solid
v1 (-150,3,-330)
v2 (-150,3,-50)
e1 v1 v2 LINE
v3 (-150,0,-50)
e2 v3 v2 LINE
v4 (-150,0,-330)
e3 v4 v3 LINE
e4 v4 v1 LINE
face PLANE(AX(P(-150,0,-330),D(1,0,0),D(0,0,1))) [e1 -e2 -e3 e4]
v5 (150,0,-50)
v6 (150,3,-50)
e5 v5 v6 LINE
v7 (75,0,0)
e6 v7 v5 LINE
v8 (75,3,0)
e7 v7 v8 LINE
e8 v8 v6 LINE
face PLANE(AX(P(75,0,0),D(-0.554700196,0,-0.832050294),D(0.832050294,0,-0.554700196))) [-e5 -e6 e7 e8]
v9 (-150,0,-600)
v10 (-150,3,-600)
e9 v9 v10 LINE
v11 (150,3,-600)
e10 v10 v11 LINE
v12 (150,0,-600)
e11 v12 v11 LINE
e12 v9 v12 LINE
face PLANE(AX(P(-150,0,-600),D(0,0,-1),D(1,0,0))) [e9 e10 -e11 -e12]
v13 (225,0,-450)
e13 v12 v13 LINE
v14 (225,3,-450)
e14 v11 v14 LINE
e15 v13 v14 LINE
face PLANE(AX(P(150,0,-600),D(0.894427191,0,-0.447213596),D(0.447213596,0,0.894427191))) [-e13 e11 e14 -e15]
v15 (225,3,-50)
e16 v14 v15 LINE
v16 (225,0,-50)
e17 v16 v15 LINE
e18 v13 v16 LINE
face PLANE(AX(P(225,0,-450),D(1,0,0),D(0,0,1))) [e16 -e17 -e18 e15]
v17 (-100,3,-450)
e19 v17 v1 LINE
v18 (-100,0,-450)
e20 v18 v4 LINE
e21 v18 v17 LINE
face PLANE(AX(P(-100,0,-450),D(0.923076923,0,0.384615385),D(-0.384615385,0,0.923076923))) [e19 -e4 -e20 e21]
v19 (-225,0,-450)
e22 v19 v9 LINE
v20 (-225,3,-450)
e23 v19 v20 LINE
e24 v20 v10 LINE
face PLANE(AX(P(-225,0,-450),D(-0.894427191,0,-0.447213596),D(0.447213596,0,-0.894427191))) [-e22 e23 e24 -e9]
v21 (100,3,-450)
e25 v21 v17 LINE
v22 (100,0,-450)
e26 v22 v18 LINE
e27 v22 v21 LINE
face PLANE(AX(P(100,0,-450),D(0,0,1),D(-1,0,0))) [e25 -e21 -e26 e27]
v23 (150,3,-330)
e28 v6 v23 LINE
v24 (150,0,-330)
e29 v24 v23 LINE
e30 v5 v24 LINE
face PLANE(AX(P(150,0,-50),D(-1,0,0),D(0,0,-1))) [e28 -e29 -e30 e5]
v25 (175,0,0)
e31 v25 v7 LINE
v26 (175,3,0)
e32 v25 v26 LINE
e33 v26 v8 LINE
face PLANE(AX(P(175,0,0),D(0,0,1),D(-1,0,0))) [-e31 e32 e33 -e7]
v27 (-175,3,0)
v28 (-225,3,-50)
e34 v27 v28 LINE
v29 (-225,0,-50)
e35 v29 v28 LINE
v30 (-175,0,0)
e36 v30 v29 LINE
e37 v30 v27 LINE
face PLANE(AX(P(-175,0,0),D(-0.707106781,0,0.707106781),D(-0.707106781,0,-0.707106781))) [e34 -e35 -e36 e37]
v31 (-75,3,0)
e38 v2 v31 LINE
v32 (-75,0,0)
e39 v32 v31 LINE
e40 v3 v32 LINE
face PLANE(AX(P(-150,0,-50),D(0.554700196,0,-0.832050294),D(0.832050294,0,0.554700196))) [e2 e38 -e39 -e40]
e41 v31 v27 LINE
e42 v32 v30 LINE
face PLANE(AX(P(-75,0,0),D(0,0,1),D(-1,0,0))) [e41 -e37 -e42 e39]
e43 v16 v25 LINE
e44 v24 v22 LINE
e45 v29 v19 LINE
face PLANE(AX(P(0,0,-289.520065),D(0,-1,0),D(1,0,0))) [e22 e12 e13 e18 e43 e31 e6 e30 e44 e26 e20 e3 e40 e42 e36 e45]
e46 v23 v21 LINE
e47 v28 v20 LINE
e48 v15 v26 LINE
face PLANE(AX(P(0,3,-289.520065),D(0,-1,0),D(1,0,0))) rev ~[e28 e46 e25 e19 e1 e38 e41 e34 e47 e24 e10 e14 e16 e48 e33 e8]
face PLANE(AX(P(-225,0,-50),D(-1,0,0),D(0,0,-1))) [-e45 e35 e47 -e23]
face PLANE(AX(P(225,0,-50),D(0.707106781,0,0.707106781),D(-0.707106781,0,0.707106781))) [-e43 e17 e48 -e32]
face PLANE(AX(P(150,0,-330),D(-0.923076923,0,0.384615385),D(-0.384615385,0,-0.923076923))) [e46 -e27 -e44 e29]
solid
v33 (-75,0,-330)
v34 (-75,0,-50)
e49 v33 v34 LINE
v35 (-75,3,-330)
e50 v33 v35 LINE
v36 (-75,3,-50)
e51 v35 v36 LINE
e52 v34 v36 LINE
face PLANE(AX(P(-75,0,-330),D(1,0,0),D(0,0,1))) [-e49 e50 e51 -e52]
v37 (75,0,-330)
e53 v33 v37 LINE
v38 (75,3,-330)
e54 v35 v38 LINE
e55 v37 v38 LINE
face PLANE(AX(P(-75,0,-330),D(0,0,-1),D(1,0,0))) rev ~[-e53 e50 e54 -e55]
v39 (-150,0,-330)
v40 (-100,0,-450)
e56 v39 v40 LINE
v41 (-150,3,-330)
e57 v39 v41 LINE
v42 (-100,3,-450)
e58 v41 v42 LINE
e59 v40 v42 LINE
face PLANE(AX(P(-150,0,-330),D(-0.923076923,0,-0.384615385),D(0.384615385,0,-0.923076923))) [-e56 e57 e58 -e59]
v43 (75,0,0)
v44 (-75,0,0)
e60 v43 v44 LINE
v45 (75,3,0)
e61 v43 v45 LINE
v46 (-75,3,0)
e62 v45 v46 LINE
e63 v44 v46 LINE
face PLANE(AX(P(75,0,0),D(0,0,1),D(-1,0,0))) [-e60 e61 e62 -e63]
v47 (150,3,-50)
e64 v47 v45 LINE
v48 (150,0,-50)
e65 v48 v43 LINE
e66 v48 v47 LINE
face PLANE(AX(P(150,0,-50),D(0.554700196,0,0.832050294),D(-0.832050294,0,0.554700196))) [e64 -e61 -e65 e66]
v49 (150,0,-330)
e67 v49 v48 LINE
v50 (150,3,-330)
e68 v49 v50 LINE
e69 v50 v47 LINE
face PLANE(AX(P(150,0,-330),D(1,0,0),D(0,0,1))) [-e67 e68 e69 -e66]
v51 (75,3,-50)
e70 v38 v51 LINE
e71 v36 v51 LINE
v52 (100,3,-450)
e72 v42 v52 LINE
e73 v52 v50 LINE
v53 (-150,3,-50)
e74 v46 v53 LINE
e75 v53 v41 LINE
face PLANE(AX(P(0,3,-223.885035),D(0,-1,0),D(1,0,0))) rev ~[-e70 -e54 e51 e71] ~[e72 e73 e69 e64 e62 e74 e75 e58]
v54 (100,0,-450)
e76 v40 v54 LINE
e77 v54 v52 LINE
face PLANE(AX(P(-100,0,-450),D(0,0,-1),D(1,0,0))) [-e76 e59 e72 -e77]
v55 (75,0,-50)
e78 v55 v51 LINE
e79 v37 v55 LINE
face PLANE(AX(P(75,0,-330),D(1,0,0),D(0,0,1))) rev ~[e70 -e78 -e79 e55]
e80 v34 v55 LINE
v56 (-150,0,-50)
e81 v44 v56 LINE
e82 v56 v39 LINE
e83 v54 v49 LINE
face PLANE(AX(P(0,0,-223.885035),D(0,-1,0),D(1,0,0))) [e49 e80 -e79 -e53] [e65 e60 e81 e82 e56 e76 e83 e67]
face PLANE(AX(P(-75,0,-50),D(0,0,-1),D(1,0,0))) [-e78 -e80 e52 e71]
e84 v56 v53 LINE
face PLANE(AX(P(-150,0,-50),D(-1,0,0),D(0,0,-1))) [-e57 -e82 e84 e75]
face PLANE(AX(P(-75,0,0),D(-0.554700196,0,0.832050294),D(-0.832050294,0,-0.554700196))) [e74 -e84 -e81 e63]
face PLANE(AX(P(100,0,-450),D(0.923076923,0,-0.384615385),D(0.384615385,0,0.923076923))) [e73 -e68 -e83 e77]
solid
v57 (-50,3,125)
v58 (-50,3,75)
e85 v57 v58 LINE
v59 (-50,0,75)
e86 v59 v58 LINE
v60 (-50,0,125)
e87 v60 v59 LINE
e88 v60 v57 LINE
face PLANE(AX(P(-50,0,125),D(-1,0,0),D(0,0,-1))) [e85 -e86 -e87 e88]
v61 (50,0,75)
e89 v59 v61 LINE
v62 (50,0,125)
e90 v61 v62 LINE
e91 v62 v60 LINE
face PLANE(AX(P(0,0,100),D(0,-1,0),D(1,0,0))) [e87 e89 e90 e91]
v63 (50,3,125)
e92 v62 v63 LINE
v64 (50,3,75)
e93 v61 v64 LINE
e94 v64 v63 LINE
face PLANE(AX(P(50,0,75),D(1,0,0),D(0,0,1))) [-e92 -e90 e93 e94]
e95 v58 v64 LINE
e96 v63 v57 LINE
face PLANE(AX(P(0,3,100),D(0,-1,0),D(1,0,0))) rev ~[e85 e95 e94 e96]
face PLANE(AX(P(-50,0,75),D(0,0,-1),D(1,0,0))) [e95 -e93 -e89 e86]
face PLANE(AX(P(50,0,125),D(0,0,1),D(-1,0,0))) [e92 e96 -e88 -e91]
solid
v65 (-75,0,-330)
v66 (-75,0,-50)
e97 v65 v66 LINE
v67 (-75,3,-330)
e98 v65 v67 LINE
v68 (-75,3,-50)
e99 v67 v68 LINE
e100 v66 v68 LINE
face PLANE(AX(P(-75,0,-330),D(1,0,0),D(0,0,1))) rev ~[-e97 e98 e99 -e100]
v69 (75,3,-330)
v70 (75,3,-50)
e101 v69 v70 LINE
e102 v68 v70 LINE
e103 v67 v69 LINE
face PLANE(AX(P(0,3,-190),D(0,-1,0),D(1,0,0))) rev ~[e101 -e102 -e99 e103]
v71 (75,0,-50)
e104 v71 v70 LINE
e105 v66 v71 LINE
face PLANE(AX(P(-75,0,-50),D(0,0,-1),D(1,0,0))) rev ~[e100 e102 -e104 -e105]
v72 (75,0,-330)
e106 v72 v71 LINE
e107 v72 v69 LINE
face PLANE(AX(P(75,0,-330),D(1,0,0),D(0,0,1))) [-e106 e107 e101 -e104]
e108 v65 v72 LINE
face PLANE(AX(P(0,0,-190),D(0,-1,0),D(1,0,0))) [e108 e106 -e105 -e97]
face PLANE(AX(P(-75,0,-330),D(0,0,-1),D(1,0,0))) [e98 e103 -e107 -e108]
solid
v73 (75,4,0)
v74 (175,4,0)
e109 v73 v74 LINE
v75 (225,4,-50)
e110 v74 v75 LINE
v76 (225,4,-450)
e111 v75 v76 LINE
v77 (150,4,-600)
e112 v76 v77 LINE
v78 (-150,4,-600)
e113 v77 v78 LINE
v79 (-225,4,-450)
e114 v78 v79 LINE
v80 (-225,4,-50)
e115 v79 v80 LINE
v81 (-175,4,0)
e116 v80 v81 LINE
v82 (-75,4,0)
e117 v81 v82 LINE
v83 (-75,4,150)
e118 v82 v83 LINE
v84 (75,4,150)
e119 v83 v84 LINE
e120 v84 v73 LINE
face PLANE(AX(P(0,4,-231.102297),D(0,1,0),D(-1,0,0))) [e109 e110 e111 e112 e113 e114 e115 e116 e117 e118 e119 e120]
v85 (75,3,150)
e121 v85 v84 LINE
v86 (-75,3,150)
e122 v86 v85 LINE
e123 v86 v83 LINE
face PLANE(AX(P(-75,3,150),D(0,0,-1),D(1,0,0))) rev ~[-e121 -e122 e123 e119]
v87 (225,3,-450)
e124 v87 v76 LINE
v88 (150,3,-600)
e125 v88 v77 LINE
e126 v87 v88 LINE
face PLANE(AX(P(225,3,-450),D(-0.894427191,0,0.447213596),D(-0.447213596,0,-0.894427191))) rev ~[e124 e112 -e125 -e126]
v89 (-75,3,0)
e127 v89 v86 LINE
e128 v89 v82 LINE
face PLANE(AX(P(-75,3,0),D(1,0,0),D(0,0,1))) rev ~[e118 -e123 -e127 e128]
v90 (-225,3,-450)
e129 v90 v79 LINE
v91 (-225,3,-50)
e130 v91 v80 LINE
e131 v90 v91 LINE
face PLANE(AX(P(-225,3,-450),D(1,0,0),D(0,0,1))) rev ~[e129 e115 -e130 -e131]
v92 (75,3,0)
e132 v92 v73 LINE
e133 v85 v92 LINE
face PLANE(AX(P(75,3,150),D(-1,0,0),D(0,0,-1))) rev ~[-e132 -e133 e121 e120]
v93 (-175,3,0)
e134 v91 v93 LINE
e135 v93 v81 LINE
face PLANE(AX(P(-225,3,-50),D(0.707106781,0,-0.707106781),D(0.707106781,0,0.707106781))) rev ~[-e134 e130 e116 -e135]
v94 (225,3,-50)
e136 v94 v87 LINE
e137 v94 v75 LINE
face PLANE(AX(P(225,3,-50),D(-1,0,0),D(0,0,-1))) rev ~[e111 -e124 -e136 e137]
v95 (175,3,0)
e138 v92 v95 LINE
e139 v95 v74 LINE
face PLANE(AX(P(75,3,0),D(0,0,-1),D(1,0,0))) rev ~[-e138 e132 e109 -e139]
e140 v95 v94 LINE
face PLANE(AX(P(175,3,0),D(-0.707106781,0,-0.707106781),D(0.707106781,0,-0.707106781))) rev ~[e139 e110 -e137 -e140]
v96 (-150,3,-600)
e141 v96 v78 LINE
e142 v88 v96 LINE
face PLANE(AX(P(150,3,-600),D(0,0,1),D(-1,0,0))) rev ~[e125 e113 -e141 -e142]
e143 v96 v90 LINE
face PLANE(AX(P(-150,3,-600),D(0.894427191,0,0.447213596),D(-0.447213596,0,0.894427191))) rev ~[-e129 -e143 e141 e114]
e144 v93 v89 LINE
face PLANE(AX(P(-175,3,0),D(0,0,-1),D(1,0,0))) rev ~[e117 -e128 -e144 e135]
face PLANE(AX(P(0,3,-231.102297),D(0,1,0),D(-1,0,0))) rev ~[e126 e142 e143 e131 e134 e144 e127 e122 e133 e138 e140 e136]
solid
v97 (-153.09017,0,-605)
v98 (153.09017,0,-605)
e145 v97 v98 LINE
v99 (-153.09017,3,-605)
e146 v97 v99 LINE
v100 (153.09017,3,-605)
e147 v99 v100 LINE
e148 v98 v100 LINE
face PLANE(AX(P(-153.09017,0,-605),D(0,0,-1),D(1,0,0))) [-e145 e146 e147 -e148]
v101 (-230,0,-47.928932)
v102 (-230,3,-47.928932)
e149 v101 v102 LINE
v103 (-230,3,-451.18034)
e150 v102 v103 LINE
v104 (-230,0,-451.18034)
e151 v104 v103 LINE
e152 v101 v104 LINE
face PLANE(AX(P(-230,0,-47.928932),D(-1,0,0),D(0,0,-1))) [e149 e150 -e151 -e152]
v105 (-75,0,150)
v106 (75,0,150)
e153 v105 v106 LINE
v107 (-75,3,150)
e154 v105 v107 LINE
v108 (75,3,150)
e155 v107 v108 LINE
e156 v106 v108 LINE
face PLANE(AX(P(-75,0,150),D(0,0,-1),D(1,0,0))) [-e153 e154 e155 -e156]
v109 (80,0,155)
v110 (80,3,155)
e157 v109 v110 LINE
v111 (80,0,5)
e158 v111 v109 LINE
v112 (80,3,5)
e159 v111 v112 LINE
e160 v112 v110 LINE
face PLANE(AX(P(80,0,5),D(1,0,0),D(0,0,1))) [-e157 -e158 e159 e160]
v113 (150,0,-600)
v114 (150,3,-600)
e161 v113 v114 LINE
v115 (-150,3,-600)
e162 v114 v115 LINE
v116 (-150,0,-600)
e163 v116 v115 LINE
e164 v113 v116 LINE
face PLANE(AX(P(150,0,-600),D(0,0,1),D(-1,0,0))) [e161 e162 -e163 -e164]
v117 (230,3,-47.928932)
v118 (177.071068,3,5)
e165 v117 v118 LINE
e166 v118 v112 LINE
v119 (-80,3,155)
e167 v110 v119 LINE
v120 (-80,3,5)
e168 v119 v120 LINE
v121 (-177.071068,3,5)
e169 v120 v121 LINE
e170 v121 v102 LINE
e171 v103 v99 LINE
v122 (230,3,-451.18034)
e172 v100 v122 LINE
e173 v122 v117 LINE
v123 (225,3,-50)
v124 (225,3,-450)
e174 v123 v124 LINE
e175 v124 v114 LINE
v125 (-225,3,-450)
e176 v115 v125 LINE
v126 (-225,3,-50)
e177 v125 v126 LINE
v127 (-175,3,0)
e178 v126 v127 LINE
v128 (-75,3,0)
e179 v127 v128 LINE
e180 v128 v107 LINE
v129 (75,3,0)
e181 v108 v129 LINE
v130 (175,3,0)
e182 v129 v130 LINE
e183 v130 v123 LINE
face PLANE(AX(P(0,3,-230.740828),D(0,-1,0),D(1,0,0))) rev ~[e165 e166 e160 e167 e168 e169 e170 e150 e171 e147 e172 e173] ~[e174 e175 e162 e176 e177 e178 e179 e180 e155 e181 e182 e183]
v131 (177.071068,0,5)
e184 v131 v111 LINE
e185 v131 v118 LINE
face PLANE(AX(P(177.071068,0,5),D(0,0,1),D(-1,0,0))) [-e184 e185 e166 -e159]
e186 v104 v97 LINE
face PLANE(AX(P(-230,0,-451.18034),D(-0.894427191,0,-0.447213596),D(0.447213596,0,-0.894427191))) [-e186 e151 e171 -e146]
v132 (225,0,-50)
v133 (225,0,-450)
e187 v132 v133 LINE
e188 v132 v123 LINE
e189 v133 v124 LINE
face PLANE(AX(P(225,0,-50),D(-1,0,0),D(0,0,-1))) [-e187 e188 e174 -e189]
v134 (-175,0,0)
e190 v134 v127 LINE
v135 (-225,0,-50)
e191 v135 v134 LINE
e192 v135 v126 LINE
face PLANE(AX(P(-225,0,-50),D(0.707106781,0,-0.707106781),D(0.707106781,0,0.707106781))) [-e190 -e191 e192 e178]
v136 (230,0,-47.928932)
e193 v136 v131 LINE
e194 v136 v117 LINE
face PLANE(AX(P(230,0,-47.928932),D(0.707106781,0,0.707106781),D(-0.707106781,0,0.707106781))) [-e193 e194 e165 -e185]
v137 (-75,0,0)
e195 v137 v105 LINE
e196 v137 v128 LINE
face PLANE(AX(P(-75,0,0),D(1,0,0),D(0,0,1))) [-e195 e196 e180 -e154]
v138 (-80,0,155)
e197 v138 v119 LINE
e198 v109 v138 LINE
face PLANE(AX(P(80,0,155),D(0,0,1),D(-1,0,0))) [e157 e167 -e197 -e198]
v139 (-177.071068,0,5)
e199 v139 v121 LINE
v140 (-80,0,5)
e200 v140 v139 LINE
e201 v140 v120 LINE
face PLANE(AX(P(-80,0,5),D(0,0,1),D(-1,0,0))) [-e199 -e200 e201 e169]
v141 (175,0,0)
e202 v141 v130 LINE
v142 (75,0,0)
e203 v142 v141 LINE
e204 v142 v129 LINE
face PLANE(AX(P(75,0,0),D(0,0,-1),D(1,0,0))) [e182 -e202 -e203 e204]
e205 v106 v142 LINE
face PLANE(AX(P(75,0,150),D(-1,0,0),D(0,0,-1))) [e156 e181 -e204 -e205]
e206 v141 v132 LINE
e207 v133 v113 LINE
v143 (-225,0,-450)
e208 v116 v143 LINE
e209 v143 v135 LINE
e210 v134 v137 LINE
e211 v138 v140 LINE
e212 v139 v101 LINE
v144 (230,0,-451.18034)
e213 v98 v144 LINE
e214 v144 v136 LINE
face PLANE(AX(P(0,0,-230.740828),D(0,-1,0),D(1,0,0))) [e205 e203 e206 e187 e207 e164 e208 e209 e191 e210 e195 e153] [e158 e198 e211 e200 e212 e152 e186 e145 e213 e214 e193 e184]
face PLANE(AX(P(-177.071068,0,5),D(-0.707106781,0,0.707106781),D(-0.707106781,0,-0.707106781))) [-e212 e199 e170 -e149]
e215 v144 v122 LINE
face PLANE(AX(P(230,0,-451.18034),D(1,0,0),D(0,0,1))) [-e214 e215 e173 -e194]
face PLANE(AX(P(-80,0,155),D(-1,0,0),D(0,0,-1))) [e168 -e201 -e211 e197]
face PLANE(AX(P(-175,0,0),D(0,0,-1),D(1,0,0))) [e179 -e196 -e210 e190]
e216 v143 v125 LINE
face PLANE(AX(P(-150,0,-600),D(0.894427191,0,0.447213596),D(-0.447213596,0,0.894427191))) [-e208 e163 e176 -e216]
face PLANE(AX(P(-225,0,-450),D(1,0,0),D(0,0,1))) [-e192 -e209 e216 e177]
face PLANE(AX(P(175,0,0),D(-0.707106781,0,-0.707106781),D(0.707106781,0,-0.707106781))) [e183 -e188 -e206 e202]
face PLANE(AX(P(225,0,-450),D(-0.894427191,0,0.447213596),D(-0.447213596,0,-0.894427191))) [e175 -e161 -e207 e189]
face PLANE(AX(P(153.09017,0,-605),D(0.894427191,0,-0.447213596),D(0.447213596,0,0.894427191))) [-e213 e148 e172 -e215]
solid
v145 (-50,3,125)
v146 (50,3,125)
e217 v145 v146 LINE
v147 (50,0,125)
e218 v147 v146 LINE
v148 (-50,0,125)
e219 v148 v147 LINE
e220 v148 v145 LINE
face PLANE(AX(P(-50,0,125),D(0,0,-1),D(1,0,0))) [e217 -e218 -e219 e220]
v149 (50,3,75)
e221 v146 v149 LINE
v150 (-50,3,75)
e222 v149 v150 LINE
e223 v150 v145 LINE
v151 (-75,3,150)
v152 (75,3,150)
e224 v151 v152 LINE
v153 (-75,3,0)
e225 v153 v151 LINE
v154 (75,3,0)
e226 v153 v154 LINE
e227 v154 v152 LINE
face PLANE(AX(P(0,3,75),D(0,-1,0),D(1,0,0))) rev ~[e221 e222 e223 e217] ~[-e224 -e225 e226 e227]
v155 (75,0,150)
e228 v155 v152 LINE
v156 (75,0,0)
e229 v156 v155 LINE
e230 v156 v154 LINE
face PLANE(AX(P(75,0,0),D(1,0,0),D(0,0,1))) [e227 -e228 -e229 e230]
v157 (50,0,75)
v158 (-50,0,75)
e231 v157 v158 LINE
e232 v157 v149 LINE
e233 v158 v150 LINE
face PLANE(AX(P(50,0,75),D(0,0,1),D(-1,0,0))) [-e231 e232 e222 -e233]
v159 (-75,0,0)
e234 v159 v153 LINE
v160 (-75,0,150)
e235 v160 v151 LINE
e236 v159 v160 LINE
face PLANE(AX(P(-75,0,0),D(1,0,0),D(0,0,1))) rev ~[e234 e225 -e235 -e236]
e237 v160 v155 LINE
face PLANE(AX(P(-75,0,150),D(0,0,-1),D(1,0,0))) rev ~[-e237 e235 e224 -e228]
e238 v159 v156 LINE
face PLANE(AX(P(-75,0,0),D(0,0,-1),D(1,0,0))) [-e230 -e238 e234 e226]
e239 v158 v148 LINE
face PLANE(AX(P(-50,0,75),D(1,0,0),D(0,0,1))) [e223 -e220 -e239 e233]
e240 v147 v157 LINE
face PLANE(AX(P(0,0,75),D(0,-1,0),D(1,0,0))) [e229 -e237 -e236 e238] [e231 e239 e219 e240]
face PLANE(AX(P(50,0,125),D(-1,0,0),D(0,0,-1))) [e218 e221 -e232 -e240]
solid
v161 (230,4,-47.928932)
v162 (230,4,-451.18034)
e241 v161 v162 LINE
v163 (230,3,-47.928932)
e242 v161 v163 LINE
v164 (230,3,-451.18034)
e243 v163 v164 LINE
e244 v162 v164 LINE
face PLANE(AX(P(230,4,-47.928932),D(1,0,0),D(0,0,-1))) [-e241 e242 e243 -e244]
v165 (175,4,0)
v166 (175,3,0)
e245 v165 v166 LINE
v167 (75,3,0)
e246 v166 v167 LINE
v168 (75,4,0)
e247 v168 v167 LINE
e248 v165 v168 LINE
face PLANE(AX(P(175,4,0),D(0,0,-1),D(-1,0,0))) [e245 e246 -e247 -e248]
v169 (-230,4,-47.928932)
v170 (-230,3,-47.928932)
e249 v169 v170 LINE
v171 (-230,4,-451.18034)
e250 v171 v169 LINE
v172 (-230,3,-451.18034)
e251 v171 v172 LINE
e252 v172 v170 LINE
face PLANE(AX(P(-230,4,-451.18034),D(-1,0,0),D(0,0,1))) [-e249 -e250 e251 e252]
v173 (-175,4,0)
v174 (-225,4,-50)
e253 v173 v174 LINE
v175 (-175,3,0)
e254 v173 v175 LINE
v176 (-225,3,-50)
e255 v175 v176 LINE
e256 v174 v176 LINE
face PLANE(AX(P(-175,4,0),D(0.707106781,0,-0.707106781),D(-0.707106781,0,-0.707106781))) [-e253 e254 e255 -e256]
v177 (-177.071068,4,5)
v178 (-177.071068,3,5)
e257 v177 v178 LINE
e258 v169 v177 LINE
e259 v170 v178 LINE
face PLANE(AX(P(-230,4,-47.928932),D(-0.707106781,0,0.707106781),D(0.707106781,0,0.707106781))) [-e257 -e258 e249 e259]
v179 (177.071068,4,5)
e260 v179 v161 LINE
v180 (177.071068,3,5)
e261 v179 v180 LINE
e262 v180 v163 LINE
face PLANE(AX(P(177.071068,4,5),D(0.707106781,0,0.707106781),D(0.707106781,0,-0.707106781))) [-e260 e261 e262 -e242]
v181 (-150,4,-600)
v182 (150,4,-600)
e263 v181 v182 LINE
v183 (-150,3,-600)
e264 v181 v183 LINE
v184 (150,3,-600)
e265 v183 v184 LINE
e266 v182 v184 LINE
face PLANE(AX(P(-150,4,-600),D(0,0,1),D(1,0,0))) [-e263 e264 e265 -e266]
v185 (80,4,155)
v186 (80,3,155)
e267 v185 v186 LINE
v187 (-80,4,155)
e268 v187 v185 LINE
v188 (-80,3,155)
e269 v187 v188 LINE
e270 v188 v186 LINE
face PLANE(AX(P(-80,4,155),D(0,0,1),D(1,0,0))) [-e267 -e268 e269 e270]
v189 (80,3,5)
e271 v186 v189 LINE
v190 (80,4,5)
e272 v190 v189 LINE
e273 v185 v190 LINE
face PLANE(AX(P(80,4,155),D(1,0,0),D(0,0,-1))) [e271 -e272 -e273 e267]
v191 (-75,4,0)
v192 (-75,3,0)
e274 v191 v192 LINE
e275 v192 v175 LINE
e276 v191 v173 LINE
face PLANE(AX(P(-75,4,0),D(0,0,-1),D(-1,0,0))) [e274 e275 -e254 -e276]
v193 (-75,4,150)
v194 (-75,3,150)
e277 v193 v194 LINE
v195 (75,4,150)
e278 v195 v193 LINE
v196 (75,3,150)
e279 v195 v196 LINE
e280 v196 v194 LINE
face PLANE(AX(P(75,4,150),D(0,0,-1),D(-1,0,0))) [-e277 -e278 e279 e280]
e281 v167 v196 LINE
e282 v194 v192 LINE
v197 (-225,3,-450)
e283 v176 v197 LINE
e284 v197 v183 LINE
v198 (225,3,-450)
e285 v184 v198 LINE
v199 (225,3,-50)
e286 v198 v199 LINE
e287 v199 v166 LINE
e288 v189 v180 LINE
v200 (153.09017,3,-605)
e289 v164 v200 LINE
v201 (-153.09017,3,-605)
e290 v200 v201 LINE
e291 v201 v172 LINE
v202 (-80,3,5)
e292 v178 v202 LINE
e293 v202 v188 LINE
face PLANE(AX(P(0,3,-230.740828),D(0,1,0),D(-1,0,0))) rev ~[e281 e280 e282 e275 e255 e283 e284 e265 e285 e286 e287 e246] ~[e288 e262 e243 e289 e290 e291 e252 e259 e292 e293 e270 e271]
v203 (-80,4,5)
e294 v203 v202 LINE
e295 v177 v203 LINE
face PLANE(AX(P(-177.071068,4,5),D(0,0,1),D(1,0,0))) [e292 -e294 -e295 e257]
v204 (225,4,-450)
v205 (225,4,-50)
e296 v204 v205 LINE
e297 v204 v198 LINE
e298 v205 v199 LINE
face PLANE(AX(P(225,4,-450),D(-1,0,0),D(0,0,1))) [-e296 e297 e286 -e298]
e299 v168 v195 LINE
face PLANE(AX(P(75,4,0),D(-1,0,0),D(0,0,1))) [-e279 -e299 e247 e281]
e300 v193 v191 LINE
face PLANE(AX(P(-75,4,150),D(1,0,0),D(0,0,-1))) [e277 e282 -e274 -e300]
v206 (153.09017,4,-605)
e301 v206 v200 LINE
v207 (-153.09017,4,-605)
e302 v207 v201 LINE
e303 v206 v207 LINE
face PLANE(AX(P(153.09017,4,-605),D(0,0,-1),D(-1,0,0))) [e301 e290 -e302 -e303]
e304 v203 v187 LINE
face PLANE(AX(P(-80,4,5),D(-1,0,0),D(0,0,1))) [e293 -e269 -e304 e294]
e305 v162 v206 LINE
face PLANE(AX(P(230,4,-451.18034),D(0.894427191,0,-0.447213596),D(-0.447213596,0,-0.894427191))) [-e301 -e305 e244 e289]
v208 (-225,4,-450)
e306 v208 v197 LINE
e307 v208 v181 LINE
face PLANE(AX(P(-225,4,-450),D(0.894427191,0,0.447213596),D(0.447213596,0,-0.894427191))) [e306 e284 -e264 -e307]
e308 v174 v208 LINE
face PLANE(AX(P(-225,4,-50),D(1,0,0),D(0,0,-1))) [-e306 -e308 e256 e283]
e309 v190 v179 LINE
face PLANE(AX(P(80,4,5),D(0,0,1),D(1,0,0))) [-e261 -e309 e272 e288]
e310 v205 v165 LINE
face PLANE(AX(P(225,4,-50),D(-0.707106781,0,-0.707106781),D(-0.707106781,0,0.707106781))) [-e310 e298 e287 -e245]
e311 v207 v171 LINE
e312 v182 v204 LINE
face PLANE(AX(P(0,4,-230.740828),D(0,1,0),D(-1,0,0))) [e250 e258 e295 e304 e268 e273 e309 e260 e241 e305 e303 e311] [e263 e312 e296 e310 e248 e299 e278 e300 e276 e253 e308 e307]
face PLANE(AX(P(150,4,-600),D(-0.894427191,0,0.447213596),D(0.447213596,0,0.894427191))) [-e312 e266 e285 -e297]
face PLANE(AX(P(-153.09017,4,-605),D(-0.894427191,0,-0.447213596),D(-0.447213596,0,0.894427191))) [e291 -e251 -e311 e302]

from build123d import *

# Parameters (mm, degrees)
F1_DEPTH  = 3
F2_W      = 150
F2_H      = 150
F3_DEPTH  = 3
F4_W      = 150
F4_H      = 280
F5_DEPTH  = 3
F6_W      = 150
F6_H      = 280
F7_DEPTH  = 3
F9_DEPTH  = 3
F11_DEPTH = 3
F13_DEPTH = 1
F15_DEPTH = 1


with BuildPart() as f1:
    # F0 (on Front) → F1 (new body)
    with BuildSketch(Plane.XZ):
        Polygon((50, 125), (0, 125), (-50, 125), (-50, 100), (-50, 75), (0, 75), (50, 75), (50, 100), align=None)
    extrude(amount=-F1_DEPTH)


with BuildPart() as f3:
    # F2 (on Front) → F3 (new body)
    with BuildSketch(Plane.XZ):
        with Locations((0, 75)):
            Rectangle(F2_W, F2_H)
        Polygon((-50, 125), (0, 125), (50, 125), (50, 100), (50, 75), (0, 75), (-50, 75), (-50, 100), align=None, mode=Mode.SUBTRACT)
    extrude(amount=-F3_DEPTH)


with BuildPart() as f5:
    # F4 (on Front) → F5 (new body)
    with BuildSketch(Plane.XZ):
        with Locations((0, -190)):
            Rectangle(F4_W, F4_H)
    extrude(amount=-F5_DEPTH)


with BuildPart() as f7:
    # F6 (on Front) → F7 (new body)
    with BuildSketch(Plane.XZ):
        Polygon((75, 0), (-75, 0), (-150, -50), (-150, -330), (-100, -450), (100, -450), (150, -330), (150, -50), align=None)
        with Locations((0, -190)):
            Rectangle(F6_W, F6_H, mode=Mode.SUBTRACT)
    extrude(amount=-F7_DEPTH)


with BuildPart() as f9:
    # F8 (on face) → F9 (new body)
    with BuildSketch(Plane.XZ):
        Polygon((175, 0), (75, 0), (150, -50), (150, -330), (100, -450), (-100, -450), (-150, -330), (-150, -50), (-75, 0), (-175, 0), (-225, -50), (-225, -450), (-150, -600), (150, -600), (225, -450), (225, -50), align=None)
    extrude(amount=-F9_DEPTH)


with BuildPart() as f11:
    # F10 (on face) → F11 (new body)
    with BuildSketch(Plane.XZ):
        Polygon((230, -47.928932), (177.071068, 5), (80, 5), (80, 155), (-80, 155), (-80, 5), (-177.071068, 5), (-230, -47.928932), (-230, -451.18034), (-153.09017, -605), (153.09017, -605), (230, -451.18034), align=None)
        Polygon((-75, 150), (75, 150), (75, 0), (175, 0), (225, -50), (225, -450), (150, -600), (-150, -600), (-225, -450), (-225, -50), (-175, 0), (-75, 0), align=None, mode=Mode.SUBTRACT)
    extrude(amount=-F11_DEPTH)


with BuildPart() as f13:
    # F12 (on face) → F13 (new body)
    with BuildSketch(Plane(origin=(0, 3, 0), x_dir=(-1, 0, 0), z_dir=(0, 1, 0))):
        Polygon((75, 0), (75, 150), (-75, 150), (-75, 0), (-175, 0), (-225, -50), (-225, -450), (-150, -600), (150, -600), (225, -450), (225, -50), (175, 0), align=None)
    extrude(amount=F13_DEPTH)


with BuildPart() as f15:
    # F14 (on face) → F15 (new body)
    with BuildSketch(Plane(origin=(0, 4, 0), x_dir=(-1, 0, 0), z_dir=(0, 1, 0))):
        Polygon((80, 155), (-80, 155), (-80, 5), (-177.071068, 5), (-230, -47.928932), (-230, -451.18034), (-153.09017, -605), (153.09017, -605), (230, -451.18034), (230, -47.928932), (177.071068, 5), (80, 5), align=None)
        Polygon((-75, 0), (-75, 150), (75, 150), (75, 0), (175, 0), (225, -50), (225, -450), (150, -600), (-150, -600), (-225, -450), (-225, -50), (-175, 0), align=None, mode=Mode.SUBTRACT)
    extrude(amount=-F15_DEPTH)


solid = Compound([f1.part, f3.part, f5.part, f7.part, f9.part, f11.part, f13.part, f15.part])
